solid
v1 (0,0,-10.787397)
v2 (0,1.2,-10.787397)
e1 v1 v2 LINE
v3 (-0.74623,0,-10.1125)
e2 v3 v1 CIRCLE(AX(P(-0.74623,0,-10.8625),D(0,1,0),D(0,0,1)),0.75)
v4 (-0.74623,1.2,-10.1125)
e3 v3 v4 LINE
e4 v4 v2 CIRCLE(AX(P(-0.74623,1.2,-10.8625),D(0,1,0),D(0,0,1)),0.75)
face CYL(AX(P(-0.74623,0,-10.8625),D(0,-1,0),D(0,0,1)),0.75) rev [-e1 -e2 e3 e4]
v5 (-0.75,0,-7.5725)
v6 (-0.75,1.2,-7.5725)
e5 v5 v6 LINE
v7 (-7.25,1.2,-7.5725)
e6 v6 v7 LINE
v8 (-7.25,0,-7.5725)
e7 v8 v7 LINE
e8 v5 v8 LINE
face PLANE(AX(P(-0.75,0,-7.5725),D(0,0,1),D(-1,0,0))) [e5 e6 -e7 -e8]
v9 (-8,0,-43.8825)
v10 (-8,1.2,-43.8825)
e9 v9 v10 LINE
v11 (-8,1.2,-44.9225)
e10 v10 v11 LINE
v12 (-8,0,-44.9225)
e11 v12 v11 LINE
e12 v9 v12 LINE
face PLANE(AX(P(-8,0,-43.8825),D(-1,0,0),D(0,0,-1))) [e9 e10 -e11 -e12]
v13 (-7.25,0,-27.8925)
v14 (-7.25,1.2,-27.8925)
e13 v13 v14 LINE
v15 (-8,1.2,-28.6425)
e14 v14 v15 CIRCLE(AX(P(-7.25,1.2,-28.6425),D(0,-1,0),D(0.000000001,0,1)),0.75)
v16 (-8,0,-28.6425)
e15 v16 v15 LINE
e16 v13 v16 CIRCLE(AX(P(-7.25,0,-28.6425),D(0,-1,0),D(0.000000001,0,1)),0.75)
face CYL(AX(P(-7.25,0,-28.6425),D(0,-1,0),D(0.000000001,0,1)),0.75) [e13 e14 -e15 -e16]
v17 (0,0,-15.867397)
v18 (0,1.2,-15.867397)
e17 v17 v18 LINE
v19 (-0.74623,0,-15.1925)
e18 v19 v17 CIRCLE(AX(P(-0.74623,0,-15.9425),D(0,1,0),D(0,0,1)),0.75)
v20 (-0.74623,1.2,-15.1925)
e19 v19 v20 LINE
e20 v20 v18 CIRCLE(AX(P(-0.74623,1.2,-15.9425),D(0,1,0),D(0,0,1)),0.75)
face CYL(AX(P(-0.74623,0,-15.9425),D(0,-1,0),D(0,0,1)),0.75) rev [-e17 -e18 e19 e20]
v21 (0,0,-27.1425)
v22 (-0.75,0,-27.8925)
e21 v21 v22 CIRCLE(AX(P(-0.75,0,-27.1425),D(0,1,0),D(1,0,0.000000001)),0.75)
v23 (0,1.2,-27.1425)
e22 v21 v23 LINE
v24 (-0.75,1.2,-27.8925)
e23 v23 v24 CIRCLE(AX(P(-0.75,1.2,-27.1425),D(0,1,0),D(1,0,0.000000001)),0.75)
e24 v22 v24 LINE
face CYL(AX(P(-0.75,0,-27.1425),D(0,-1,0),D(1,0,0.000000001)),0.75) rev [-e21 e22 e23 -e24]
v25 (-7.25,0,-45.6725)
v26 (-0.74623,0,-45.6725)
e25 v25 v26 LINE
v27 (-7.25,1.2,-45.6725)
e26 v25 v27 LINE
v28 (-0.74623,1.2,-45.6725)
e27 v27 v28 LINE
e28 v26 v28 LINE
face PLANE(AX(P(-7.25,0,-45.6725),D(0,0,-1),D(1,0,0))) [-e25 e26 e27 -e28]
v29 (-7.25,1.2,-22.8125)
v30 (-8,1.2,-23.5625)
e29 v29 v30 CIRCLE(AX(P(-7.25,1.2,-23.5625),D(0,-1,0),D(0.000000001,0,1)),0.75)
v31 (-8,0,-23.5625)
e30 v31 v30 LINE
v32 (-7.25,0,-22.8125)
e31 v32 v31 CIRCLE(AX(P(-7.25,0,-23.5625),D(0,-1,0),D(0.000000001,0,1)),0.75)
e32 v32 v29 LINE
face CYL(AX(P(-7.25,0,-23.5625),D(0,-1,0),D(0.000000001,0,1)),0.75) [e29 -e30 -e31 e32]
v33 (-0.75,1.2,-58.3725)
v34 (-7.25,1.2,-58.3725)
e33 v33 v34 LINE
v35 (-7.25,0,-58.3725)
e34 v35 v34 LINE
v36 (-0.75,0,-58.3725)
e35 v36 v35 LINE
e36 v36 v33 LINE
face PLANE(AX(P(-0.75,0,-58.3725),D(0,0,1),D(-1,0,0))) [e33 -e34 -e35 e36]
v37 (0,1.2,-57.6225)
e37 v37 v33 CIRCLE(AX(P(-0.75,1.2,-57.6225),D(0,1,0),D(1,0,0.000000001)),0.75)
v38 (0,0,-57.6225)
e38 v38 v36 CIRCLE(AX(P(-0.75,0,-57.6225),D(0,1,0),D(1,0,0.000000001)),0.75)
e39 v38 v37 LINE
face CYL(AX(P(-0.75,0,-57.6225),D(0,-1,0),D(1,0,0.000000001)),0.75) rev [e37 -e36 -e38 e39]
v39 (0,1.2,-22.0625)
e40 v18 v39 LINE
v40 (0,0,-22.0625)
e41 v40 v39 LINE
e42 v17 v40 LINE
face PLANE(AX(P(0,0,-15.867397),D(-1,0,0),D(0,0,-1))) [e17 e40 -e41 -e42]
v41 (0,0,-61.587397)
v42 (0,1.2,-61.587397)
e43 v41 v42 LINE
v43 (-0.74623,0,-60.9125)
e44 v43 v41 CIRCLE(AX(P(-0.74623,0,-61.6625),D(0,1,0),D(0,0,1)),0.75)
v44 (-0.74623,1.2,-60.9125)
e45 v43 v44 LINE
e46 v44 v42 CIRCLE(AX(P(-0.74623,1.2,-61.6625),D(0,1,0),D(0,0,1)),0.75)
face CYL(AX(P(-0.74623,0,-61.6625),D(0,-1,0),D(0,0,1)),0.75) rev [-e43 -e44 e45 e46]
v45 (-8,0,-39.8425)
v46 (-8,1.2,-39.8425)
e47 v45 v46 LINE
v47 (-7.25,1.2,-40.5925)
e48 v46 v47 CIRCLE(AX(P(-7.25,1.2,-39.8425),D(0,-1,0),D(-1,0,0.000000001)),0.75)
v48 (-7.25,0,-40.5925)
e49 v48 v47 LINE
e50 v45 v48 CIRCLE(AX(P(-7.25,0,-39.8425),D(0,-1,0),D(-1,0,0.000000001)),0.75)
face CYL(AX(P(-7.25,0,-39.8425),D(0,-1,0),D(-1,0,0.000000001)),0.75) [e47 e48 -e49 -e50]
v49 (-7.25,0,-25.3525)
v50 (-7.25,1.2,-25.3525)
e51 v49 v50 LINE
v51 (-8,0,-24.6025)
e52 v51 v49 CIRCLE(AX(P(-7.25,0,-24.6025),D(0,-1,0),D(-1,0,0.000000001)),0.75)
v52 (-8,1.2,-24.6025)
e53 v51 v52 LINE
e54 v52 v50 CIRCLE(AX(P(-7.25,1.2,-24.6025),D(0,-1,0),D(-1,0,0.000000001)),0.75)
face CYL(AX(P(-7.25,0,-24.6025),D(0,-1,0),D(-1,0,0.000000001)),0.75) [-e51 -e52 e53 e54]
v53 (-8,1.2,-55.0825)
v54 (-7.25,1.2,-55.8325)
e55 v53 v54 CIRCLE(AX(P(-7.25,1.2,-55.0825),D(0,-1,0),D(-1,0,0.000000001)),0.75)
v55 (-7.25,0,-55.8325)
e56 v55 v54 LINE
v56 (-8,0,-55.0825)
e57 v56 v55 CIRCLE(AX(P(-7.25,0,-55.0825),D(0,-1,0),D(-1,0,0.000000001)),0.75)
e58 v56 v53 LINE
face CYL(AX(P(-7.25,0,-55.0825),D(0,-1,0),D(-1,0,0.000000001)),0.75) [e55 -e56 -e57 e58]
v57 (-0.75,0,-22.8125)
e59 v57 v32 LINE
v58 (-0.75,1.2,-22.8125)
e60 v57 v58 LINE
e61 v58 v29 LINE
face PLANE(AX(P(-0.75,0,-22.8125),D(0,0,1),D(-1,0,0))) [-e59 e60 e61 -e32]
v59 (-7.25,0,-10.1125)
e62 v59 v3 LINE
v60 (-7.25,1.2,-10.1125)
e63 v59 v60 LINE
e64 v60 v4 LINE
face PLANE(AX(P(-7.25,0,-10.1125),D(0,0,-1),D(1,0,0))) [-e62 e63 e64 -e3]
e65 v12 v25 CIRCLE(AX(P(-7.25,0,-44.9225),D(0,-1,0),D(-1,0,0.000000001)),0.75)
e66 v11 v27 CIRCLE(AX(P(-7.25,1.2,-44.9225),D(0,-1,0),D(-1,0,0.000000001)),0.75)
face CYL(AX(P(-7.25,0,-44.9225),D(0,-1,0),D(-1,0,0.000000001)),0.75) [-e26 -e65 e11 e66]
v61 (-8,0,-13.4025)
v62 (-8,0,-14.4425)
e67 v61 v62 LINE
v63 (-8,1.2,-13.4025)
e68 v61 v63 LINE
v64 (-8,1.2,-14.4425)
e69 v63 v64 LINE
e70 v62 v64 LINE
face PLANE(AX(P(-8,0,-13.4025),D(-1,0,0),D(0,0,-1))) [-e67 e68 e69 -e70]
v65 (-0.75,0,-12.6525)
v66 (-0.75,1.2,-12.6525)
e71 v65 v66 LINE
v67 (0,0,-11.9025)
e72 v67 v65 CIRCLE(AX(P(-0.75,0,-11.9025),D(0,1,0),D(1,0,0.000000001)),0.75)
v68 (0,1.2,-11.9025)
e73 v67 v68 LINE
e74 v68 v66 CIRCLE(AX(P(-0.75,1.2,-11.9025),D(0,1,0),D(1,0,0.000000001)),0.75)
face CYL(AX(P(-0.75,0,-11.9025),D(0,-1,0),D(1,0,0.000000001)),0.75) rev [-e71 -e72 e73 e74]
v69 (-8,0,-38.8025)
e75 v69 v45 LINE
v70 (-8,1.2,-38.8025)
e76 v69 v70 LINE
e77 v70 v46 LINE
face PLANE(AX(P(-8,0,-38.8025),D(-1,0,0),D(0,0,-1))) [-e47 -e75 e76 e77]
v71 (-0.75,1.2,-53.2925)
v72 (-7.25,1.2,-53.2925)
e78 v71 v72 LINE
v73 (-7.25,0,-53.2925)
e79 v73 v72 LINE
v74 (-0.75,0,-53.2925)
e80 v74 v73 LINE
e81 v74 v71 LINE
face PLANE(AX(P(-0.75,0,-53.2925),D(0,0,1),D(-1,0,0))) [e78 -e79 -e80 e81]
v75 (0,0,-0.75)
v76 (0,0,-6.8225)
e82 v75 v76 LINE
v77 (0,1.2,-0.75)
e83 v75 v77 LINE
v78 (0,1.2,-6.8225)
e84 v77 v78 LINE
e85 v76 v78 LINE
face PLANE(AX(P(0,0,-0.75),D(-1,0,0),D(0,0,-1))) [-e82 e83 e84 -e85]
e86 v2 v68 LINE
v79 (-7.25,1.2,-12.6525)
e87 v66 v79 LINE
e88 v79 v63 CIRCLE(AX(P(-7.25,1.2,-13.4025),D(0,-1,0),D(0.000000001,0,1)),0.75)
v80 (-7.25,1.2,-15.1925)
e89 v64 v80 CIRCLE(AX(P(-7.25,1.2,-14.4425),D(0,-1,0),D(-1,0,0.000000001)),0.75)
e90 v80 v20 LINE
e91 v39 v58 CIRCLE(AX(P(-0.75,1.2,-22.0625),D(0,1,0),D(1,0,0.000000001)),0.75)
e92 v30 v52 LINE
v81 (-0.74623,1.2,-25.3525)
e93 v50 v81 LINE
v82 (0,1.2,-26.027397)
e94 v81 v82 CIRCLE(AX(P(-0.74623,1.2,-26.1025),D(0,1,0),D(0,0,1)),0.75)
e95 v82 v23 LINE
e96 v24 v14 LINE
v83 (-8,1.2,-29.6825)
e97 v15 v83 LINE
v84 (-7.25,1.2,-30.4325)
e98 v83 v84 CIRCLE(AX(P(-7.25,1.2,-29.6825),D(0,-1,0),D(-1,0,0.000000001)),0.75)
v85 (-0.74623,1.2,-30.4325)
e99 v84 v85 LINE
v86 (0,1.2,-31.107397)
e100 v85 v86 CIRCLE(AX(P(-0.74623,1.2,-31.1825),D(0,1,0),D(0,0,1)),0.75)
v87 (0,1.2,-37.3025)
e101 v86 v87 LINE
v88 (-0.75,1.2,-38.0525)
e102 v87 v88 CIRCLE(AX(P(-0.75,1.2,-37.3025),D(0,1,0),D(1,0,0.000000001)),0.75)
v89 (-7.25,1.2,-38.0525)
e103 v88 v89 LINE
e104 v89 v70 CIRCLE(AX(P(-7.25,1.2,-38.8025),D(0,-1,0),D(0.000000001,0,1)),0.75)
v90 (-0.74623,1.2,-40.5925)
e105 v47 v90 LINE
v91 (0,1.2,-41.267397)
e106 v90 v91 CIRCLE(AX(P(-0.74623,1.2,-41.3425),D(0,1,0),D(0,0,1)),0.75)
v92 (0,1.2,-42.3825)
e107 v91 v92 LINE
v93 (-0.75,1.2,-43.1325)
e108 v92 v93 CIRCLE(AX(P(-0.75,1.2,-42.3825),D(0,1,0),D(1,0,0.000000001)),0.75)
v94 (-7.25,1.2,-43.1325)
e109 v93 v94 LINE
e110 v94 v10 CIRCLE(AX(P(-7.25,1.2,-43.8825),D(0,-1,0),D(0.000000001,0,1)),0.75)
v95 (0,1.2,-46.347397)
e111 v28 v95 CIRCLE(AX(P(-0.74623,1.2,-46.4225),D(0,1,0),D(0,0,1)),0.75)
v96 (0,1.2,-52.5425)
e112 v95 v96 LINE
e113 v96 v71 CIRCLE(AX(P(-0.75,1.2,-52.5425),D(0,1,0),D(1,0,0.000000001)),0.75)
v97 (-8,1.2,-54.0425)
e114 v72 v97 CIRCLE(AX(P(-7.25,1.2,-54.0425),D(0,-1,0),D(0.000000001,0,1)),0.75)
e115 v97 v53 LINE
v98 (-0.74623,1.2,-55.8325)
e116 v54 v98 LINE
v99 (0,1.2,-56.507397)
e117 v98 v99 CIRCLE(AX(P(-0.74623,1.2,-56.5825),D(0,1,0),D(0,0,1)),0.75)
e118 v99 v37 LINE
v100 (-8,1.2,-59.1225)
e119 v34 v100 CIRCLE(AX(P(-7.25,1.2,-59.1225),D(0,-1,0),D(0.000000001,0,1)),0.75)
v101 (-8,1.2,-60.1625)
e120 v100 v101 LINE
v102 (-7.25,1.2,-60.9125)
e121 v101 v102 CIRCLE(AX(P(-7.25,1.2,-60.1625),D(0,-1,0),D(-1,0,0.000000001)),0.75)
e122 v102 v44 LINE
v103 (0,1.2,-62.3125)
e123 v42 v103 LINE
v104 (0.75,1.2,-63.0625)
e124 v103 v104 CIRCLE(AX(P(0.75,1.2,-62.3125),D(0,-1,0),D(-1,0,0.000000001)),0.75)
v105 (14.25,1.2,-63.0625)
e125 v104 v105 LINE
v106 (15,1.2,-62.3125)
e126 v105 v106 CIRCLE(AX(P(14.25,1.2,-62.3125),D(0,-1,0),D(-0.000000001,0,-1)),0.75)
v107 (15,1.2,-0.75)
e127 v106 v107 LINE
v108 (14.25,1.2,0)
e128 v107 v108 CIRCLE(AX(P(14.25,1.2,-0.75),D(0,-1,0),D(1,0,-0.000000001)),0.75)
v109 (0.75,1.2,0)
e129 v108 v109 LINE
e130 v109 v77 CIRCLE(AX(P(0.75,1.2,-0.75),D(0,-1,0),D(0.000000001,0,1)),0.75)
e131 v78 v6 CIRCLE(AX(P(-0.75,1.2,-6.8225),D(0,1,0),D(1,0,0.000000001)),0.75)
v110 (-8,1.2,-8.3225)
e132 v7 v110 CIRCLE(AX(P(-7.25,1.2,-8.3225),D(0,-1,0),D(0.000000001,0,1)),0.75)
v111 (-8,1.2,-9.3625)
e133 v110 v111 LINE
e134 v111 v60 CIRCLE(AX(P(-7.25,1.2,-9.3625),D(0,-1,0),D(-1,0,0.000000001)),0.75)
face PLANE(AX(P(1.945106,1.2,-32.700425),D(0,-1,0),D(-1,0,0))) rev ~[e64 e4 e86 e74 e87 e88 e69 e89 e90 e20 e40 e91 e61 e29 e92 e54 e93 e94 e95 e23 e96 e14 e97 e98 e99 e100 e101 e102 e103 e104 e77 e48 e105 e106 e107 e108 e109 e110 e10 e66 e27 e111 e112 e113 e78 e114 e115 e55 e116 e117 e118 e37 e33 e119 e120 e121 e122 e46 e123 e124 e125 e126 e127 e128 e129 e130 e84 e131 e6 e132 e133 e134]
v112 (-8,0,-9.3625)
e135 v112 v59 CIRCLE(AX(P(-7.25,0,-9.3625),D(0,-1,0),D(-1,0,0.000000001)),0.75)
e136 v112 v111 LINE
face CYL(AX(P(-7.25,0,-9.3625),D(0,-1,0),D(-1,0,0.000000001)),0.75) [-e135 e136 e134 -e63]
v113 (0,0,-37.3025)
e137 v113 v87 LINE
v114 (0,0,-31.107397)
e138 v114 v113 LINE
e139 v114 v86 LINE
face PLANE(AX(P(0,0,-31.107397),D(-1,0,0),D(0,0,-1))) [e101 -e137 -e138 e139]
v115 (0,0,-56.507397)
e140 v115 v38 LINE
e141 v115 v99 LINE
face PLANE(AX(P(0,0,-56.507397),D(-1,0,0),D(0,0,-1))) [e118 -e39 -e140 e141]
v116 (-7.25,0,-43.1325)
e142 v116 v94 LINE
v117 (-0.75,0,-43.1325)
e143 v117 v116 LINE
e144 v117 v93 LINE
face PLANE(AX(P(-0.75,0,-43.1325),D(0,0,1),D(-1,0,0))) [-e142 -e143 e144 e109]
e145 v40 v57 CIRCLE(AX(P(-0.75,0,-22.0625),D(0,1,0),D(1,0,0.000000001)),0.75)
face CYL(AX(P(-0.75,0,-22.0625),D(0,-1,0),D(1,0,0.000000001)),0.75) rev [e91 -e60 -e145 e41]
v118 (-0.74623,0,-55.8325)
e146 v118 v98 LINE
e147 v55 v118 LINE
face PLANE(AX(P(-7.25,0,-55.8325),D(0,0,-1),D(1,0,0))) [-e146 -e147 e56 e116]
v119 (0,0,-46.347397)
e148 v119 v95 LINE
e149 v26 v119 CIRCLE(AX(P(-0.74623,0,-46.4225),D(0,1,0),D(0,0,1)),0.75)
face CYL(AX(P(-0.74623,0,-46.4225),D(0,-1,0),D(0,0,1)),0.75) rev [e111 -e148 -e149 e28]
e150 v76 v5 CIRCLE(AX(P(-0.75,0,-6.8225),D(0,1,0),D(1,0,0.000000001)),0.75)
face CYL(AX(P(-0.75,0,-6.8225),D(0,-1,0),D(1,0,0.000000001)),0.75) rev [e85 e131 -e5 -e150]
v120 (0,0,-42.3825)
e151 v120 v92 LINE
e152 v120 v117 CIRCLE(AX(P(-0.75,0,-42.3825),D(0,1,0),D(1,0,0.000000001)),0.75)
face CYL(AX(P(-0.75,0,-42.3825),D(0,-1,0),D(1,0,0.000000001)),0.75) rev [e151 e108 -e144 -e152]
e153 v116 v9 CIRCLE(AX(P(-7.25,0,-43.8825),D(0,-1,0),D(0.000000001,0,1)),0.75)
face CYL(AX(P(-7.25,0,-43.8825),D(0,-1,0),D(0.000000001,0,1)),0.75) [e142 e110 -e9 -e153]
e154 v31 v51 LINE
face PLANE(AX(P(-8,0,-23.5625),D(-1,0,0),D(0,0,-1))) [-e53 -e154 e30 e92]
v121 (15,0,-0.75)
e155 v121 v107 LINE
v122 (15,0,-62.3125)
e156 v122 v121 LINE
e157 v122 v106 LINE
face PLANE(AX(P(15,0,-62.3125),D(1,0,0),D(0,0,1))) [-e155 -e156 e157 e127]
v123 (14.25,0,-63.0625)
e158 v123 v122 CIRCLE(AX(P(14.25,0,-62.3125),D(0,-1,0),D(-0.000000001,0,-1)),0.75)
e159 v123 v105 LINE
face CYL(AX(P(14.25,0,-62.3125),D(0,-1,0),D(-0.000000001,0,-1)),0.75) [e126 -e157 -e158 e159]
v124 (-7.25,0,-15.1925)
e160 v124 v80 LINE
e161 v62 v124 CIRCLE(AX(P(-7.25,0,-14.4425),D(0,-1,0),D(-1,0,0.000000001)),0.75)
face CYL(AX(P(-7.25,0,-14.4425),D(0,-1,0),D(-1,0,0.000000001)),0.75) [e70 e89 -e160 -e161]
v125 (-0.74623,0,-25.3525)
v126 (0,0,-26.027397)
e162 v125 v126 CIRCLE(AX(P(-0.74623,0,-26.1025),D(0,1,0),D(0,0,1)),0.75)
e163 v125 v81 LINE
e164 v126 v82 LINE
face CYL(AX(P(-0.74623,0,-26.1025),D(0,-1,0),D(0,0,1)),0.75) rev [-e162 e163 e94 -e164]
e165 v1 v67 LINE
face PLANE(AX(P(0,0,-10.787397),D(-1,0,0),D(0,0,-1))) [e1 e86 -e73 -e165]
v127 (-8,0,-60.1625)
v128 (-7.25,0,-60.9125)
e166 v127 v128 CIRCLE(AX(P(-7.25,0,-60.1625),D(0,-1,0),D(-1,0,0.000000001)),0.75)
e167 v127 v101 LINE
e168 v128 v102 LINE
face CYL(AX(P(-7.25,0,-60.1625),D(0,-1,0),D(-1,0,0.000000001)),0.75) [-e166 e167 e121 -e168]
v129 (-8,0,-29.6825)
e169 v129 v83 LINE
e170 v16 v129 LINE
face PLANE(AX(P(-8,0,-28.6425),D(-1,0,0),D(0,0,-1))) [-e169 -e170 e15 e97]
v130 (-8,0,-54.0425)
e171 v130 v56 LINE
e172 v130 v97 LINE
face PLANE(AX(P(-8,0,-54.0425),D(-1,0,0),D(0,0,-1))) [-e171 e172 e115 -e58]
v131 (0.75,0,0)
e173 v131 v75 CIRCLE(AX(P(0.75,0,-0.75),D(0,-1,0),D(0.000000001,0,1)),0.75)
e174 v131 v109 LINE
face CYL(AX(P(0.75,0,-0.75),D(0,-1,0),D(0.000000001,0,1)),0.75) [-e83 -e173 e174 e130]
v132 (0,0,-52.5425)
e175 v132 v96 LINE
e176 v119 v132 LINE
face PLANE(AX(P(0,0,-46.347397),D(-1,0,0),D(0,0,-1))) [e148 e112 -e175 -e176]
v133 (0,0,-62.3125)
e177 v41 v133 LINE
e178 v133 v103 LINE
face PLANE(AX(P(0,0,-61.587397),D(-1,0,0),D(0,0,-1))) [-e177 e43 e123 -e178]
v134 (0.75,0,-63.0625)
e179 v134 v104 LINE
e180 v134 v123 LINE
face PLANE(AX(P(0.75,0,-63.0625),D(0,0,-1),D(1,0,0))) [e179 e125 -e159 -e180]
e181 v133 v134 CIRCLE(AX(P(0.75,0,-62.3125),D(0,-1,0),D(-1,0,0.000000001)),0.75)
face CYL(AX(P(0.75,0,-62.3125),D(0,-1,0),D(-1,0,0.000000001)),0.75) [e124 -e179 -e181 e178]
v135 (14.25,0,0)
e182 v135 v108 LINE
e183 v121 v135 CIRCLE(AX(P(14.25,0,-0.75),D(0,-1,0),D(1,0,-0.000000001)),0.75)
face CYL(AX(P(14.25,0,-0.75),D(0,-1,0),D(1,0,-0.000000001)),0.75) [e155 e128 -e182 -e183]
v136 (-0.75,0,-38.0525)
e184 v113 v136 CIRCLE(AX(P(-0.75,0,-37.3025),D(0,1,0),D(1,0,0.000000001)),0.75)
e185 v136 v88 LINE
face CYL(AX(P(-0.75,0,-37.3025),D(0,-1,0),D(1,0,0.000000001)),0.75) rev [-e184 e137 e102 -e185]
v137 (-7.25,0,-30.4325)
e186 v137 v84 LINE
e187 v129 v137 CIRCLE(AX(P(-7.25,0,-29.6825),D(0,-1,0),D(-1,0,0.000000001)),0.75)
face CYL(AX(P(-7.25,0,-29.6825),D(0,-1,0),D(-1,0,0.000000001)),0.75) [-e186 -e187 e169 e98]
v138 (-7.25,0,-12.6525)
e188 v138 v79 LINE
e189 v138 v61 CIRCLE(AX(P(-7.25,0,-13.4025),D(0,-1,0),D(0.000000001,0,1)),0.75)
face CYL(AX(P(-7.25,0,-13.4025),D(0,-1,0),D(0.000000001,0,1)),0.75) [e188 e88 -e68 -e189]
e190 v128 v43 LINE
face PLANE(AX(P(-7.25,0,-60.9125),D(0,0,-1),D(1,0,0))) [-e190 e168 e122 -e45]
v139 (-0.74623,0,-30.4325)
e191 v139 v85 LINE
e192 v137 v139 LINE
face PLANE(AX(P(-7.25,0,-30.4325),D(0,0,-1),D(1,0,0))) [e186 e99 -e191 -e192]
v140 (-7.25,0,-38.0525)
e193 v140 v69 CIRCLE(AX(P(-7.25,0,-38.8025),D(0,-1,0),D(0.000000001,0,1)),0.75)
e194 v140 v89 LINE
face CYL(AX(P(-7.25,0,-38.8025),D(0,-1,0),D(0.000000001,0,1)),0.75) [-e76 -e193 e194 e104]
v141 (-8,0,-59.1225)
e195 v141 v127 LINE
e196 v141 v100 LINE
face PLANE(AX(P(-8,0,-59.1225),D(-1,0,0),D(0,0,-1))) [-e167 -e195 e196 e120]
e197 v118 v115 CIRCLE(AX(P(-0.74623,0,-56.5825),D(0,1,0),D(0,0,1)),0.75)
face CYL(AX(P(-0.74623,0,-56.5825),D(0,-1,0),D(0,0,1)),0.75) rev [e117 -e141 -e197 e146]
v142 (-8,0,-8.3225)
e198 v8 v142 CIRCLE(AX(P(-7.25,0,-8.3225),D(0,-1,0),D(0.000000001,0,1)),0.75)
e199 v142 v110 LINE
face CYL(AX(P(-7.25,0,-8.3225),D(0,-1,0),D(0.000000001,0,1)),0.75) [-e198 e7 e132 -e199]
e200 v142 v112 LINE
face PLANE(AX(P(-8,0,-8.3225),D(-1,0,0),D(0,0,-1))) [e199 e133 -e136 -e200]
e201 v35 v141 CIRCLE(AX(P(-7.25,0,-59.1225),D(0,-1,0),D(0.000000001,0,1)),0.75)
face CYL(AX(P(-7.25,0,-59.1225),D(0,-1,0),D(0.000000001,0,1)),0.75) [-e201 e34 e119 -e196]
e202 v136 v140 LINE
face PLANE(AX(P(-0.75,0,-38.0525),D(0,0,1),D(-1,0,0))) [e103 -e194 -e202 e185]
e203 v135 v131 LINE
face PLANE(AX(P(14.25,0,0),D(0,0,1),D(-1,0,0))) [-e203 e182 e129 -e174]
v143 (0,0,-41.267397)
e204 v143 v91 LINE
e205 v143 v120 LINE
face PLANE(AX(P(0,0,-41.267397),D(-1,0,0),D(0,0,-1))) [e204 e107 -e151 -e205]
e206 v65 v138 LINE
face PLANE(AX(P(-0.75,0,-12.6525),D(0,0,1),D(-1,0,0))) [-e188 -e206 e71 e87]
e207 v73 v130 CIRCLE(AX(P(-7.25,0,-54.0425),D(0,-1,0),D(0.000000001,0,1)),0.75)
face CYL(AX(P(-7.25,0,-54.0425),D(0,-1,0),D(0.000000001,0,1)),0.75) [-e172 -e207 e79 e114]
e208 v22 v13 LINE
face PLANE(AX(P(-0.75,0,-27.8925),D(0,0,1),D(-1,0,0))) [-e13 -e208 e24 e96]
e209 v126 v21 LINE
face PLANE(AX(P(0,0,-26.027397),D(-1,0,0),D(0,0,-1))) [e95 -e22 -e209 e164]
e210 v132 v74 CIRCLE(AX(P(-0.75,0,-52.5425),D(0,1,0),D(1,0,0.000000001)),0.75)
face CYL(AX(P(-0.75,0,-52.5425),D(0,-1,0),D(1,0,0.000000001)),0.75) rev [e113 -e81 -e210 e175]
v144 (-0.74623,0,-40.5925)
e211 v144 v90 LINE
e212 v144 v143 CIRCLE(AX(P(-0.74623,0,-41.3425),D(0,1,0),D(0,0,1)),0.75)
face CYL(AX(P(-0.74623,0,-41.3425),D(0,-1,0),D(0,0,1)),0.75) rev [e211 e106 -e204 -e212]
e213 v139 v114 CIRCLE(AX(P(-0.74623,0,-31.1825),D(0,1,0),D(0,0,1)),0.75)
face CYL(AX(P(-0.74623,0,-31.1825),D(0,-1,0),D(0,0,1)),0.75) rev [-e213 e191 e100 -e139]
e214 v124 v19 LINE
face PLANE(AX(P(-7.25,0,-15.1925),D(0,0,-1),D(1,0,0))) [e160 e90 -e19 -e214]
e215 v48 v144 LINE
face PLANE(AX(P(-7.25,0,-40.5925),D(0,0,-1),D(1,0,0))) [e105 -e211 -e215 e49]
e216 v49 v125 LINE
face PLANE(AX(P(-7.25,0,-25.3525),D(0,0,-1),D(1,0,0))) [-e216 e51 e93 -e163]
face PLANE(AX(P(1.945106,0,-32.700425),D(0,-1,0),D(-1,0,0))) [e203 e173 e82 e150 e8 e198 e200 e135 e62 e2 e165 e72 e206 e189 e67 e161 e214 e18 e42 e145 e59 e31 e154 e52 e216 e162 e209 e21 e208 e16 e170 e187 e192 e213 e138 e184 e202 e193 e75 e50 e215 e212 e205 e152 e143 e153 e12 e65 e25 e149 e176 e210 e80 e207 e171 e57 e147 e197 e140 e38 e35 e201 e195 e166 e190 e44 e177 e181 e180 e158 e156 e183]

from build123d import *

# Parameters (mm, degrees)
BOSS_EXTRUDE1_DEPTH = 1.2


with BuildPart() as part:
    # Sketch1 → Boss-Extrude1 (new body)
    with BuildSketch(Plane(origin=(0, 0, 0), x_dir=(1, 0, 0), z_dir=(0, 1, 0))):
        with BuildLine():
            Line((-0.75, 7.5725), (-7.25, 7.5725))
            ThreePointArc((-7.25, 7.5725), (-7.780330086, 7.792169914), (-8, 8.3225))
            Line((-8, 8.3225), (-8, 9.3625))
            ThreePointArc((-8, 9.3625), (-7.780330086, 9.892830086), (-7.25, 10.1125))
            Line((-7.25, 10.1125), (-0.746230206, 10.1125))
            ThreePointArc((-0.746230206, 10.1125), (-0.243153345, 10.306250351), (0, 10.787396874))
            Line((0, 10.787396874), (0, 11.9025))
            ThreePointArc((0, 11.9025), (-0.219669914, 12.432830086), (-0.75, 12.6525))
            Line((-0.75, 12.6525), (-7.25, 12.6525))
            ThreePointArc((-7.25, 12.6525), (-7.780330086, 12.872169914), (-8, 13.4025))
            Line((-8, 13.4025), (-8, 14.4425))
            ThreePointArc((-8, 14.4425), (-7.780330086, 14.972830086), (-7.25, 15.1925))
            Line((-7.25, 15.1925), (-0.746230206, 15.1925))
            ThreePointArc((-0.746230206, 15.1925), (-0.243153345, 15.386250351), (0, 15.867396874))
            Line((0, 15.867396874), (0, 22.0625))
            ThreePointArc((0, 22.0625), (-0.219669914, 22.592830086), (-0.75, 22.8125))
            Line((-0.75, 22.8125), (-7.25, 22.8125))
            ThreePointArc((-7.25, 22.8125), (-7.780330086, 23.032169914), (-8, 23.5625))
            Line((-8, 23.5625), (-8, 24.6025))
            ThreePointArc((-8, 24.6025), (-7.780330086, 25.132830086), (-7.25, 25.3525))
            Line((-7.25, 25.3525), (-0.746230206, 25.3525))
            ThreePointArc((-0.746230206, 25.3525), (-0.243153345, 25.546250351), (0, 26.027396874))
            Line((0, 26.027396874), (0, 27.1425))
            ThreePointArc((0, 27.1425), (-0.219669914, 27.672830086), (-0.75, 27.8925))
            Line((-0.75, 27.8925), (-7.25, 27.8925))
            ThreePointArc((-7.25, 27.8925), (-7.780330086, 28.112169914), (-8, 28.6425))
            Line((-8, 28.6425), (-8, 29.6825))
            ThreePointArc((-8, 29.6825), (-7.780330086, 30.212830086), (-7.25, 30.4325))
            Line((-7.25, 30.4325), (-0.746230206, 30.4325))
            ThreePointArc((-0.746230206, 30.4325), (-0.243153345, 30.626250351), (0, 31.107396874))
            Line((0, 31.107396874), (0, 37.3025))
            ThreePointArc((0, 37.3025), (-0.219669914, 37.832830086), (-0.75, 38.0525))
            Line((-0.75, 38.0525), (-7.25, 38.0525))
            ThreePointArc((-7.25, 38.0525), (-7.780330086, 38.272169914), (-8, 38.8025))
            Line((-8, 38.8025), (-8, 39.8425))
            ThreePointArc((-8, 39.8425), (-7.780330086, 40.372830086), (-7.25, 40.5925))
            Line((-7.25, 40.5925), (-0.746230206, 40.5925))
            ThreePointArc((-0.746230206, 40.5925), (-0.243153345, 40.786250351), (0, 41.267396874))
            Line((0, 41.267396874), (0, 42.3825))
            ThreePointArc((0, 42.3825), (-0.219669914, 42.912830086), (-0.75, 43.1325))
            Line((-0.75, 43.1325), (-7.25, 43.1325))
            ThreePointArc((-7.25, 43.1325), (-7.780330086, 43.352169914), (-8, 43.8825))
            Line((-8, 43.8825), (-8, 44.9225))
            ThreePointArc((-8, 44.9225), (-7.780330086, 45.452830086), (-7.25, 45.6725))
            Line((-7.25, 45.6725), (-0.746230206, 45.6725))
            ThreePointArc((-0.746230206, 45.6725), (-0.243153345, 45.866250351), (0, 46.347396874))
            Line((0, 46.347396874), (0, 52.5425))
            ThreePointArc((0, 52.5425), (-0.219669914, 53.072830086), (-0.75, 53.2925))
            Line((-0.75, 53.2925), (-7.25, 53.2925))
            ThreePointArc((-7.25, 53.2925), (-7.780330086, 53.512169914), (-8, 54.0425))
            Line((-8, 54.0425), (-8, 55.0825))
            ThreePointArc((-8, 55.0825), (-7.780330086, 55.612830086), (-7.25, 55.8325))
            Line((-7.25, 55.8325), (-0.746230206, 55.8325))
            ThreePointArc((-0.746230206, 55.8325), (-0.243153345, 56.026250351), (0, 56.507396874))
            Line((0, 56.507396874), (0, 57.6225))
            ThreePointArc((0, 57.6225), (-0.219669914, 58.152830086), (-0.75, 58.3725))
            Line((-0.75, 58.3725), (-7.25, 58.3725))
            ThreePointArc((-7.25, 58.3725), (-7.780330086, 58.592169914), (-8, 59.1225))
            Line((-8, 59.1225), (-8, 60.1625))
            ThreePointArc((-8, 60.1625), (-7.780330086, 60.692830086), (-7.25, 60.9125))
            Line((-7.25, 60.9125), (-0.746230206, 60.9125))
            ThreePointArc((-0.746230206, 60.9125), (-0.243153345, 61.106250351), (0, 61.587396874))
            Line((0, 61.587396874), (0, 62.3125))
            ThreePointArc((0, 62.3125), (0.219669914, 62.842830086), (0.75, 63.0625))
            Line((0.75, 63.0625), (14.25, 63.0625))
            ThreePointArc((14.25, 63.0625), (14.780330086, 62.842830086), (15, 62.3125))
            Line((15, 62.3125), (15, 0.75))
            ThreePointArc((15, 0.75), (14.780330086, 0.219669914), (14.25, 0))
            Line((14.25, 0), (0.75, 0))
            ThreePointArc((0.75, 0), (0.219669914, 0.219669914), (0, 0.75))
            Line((0, 0.75), (0, 6.8225))
            ThreePointArc((0, 6.8225), (-0.219669914, 7.352830086), (-0.75, 7.5725))
        make_face()
    extrude(amount=BOSS_EXTRUDE1_DEPTH)


solid = part.part
